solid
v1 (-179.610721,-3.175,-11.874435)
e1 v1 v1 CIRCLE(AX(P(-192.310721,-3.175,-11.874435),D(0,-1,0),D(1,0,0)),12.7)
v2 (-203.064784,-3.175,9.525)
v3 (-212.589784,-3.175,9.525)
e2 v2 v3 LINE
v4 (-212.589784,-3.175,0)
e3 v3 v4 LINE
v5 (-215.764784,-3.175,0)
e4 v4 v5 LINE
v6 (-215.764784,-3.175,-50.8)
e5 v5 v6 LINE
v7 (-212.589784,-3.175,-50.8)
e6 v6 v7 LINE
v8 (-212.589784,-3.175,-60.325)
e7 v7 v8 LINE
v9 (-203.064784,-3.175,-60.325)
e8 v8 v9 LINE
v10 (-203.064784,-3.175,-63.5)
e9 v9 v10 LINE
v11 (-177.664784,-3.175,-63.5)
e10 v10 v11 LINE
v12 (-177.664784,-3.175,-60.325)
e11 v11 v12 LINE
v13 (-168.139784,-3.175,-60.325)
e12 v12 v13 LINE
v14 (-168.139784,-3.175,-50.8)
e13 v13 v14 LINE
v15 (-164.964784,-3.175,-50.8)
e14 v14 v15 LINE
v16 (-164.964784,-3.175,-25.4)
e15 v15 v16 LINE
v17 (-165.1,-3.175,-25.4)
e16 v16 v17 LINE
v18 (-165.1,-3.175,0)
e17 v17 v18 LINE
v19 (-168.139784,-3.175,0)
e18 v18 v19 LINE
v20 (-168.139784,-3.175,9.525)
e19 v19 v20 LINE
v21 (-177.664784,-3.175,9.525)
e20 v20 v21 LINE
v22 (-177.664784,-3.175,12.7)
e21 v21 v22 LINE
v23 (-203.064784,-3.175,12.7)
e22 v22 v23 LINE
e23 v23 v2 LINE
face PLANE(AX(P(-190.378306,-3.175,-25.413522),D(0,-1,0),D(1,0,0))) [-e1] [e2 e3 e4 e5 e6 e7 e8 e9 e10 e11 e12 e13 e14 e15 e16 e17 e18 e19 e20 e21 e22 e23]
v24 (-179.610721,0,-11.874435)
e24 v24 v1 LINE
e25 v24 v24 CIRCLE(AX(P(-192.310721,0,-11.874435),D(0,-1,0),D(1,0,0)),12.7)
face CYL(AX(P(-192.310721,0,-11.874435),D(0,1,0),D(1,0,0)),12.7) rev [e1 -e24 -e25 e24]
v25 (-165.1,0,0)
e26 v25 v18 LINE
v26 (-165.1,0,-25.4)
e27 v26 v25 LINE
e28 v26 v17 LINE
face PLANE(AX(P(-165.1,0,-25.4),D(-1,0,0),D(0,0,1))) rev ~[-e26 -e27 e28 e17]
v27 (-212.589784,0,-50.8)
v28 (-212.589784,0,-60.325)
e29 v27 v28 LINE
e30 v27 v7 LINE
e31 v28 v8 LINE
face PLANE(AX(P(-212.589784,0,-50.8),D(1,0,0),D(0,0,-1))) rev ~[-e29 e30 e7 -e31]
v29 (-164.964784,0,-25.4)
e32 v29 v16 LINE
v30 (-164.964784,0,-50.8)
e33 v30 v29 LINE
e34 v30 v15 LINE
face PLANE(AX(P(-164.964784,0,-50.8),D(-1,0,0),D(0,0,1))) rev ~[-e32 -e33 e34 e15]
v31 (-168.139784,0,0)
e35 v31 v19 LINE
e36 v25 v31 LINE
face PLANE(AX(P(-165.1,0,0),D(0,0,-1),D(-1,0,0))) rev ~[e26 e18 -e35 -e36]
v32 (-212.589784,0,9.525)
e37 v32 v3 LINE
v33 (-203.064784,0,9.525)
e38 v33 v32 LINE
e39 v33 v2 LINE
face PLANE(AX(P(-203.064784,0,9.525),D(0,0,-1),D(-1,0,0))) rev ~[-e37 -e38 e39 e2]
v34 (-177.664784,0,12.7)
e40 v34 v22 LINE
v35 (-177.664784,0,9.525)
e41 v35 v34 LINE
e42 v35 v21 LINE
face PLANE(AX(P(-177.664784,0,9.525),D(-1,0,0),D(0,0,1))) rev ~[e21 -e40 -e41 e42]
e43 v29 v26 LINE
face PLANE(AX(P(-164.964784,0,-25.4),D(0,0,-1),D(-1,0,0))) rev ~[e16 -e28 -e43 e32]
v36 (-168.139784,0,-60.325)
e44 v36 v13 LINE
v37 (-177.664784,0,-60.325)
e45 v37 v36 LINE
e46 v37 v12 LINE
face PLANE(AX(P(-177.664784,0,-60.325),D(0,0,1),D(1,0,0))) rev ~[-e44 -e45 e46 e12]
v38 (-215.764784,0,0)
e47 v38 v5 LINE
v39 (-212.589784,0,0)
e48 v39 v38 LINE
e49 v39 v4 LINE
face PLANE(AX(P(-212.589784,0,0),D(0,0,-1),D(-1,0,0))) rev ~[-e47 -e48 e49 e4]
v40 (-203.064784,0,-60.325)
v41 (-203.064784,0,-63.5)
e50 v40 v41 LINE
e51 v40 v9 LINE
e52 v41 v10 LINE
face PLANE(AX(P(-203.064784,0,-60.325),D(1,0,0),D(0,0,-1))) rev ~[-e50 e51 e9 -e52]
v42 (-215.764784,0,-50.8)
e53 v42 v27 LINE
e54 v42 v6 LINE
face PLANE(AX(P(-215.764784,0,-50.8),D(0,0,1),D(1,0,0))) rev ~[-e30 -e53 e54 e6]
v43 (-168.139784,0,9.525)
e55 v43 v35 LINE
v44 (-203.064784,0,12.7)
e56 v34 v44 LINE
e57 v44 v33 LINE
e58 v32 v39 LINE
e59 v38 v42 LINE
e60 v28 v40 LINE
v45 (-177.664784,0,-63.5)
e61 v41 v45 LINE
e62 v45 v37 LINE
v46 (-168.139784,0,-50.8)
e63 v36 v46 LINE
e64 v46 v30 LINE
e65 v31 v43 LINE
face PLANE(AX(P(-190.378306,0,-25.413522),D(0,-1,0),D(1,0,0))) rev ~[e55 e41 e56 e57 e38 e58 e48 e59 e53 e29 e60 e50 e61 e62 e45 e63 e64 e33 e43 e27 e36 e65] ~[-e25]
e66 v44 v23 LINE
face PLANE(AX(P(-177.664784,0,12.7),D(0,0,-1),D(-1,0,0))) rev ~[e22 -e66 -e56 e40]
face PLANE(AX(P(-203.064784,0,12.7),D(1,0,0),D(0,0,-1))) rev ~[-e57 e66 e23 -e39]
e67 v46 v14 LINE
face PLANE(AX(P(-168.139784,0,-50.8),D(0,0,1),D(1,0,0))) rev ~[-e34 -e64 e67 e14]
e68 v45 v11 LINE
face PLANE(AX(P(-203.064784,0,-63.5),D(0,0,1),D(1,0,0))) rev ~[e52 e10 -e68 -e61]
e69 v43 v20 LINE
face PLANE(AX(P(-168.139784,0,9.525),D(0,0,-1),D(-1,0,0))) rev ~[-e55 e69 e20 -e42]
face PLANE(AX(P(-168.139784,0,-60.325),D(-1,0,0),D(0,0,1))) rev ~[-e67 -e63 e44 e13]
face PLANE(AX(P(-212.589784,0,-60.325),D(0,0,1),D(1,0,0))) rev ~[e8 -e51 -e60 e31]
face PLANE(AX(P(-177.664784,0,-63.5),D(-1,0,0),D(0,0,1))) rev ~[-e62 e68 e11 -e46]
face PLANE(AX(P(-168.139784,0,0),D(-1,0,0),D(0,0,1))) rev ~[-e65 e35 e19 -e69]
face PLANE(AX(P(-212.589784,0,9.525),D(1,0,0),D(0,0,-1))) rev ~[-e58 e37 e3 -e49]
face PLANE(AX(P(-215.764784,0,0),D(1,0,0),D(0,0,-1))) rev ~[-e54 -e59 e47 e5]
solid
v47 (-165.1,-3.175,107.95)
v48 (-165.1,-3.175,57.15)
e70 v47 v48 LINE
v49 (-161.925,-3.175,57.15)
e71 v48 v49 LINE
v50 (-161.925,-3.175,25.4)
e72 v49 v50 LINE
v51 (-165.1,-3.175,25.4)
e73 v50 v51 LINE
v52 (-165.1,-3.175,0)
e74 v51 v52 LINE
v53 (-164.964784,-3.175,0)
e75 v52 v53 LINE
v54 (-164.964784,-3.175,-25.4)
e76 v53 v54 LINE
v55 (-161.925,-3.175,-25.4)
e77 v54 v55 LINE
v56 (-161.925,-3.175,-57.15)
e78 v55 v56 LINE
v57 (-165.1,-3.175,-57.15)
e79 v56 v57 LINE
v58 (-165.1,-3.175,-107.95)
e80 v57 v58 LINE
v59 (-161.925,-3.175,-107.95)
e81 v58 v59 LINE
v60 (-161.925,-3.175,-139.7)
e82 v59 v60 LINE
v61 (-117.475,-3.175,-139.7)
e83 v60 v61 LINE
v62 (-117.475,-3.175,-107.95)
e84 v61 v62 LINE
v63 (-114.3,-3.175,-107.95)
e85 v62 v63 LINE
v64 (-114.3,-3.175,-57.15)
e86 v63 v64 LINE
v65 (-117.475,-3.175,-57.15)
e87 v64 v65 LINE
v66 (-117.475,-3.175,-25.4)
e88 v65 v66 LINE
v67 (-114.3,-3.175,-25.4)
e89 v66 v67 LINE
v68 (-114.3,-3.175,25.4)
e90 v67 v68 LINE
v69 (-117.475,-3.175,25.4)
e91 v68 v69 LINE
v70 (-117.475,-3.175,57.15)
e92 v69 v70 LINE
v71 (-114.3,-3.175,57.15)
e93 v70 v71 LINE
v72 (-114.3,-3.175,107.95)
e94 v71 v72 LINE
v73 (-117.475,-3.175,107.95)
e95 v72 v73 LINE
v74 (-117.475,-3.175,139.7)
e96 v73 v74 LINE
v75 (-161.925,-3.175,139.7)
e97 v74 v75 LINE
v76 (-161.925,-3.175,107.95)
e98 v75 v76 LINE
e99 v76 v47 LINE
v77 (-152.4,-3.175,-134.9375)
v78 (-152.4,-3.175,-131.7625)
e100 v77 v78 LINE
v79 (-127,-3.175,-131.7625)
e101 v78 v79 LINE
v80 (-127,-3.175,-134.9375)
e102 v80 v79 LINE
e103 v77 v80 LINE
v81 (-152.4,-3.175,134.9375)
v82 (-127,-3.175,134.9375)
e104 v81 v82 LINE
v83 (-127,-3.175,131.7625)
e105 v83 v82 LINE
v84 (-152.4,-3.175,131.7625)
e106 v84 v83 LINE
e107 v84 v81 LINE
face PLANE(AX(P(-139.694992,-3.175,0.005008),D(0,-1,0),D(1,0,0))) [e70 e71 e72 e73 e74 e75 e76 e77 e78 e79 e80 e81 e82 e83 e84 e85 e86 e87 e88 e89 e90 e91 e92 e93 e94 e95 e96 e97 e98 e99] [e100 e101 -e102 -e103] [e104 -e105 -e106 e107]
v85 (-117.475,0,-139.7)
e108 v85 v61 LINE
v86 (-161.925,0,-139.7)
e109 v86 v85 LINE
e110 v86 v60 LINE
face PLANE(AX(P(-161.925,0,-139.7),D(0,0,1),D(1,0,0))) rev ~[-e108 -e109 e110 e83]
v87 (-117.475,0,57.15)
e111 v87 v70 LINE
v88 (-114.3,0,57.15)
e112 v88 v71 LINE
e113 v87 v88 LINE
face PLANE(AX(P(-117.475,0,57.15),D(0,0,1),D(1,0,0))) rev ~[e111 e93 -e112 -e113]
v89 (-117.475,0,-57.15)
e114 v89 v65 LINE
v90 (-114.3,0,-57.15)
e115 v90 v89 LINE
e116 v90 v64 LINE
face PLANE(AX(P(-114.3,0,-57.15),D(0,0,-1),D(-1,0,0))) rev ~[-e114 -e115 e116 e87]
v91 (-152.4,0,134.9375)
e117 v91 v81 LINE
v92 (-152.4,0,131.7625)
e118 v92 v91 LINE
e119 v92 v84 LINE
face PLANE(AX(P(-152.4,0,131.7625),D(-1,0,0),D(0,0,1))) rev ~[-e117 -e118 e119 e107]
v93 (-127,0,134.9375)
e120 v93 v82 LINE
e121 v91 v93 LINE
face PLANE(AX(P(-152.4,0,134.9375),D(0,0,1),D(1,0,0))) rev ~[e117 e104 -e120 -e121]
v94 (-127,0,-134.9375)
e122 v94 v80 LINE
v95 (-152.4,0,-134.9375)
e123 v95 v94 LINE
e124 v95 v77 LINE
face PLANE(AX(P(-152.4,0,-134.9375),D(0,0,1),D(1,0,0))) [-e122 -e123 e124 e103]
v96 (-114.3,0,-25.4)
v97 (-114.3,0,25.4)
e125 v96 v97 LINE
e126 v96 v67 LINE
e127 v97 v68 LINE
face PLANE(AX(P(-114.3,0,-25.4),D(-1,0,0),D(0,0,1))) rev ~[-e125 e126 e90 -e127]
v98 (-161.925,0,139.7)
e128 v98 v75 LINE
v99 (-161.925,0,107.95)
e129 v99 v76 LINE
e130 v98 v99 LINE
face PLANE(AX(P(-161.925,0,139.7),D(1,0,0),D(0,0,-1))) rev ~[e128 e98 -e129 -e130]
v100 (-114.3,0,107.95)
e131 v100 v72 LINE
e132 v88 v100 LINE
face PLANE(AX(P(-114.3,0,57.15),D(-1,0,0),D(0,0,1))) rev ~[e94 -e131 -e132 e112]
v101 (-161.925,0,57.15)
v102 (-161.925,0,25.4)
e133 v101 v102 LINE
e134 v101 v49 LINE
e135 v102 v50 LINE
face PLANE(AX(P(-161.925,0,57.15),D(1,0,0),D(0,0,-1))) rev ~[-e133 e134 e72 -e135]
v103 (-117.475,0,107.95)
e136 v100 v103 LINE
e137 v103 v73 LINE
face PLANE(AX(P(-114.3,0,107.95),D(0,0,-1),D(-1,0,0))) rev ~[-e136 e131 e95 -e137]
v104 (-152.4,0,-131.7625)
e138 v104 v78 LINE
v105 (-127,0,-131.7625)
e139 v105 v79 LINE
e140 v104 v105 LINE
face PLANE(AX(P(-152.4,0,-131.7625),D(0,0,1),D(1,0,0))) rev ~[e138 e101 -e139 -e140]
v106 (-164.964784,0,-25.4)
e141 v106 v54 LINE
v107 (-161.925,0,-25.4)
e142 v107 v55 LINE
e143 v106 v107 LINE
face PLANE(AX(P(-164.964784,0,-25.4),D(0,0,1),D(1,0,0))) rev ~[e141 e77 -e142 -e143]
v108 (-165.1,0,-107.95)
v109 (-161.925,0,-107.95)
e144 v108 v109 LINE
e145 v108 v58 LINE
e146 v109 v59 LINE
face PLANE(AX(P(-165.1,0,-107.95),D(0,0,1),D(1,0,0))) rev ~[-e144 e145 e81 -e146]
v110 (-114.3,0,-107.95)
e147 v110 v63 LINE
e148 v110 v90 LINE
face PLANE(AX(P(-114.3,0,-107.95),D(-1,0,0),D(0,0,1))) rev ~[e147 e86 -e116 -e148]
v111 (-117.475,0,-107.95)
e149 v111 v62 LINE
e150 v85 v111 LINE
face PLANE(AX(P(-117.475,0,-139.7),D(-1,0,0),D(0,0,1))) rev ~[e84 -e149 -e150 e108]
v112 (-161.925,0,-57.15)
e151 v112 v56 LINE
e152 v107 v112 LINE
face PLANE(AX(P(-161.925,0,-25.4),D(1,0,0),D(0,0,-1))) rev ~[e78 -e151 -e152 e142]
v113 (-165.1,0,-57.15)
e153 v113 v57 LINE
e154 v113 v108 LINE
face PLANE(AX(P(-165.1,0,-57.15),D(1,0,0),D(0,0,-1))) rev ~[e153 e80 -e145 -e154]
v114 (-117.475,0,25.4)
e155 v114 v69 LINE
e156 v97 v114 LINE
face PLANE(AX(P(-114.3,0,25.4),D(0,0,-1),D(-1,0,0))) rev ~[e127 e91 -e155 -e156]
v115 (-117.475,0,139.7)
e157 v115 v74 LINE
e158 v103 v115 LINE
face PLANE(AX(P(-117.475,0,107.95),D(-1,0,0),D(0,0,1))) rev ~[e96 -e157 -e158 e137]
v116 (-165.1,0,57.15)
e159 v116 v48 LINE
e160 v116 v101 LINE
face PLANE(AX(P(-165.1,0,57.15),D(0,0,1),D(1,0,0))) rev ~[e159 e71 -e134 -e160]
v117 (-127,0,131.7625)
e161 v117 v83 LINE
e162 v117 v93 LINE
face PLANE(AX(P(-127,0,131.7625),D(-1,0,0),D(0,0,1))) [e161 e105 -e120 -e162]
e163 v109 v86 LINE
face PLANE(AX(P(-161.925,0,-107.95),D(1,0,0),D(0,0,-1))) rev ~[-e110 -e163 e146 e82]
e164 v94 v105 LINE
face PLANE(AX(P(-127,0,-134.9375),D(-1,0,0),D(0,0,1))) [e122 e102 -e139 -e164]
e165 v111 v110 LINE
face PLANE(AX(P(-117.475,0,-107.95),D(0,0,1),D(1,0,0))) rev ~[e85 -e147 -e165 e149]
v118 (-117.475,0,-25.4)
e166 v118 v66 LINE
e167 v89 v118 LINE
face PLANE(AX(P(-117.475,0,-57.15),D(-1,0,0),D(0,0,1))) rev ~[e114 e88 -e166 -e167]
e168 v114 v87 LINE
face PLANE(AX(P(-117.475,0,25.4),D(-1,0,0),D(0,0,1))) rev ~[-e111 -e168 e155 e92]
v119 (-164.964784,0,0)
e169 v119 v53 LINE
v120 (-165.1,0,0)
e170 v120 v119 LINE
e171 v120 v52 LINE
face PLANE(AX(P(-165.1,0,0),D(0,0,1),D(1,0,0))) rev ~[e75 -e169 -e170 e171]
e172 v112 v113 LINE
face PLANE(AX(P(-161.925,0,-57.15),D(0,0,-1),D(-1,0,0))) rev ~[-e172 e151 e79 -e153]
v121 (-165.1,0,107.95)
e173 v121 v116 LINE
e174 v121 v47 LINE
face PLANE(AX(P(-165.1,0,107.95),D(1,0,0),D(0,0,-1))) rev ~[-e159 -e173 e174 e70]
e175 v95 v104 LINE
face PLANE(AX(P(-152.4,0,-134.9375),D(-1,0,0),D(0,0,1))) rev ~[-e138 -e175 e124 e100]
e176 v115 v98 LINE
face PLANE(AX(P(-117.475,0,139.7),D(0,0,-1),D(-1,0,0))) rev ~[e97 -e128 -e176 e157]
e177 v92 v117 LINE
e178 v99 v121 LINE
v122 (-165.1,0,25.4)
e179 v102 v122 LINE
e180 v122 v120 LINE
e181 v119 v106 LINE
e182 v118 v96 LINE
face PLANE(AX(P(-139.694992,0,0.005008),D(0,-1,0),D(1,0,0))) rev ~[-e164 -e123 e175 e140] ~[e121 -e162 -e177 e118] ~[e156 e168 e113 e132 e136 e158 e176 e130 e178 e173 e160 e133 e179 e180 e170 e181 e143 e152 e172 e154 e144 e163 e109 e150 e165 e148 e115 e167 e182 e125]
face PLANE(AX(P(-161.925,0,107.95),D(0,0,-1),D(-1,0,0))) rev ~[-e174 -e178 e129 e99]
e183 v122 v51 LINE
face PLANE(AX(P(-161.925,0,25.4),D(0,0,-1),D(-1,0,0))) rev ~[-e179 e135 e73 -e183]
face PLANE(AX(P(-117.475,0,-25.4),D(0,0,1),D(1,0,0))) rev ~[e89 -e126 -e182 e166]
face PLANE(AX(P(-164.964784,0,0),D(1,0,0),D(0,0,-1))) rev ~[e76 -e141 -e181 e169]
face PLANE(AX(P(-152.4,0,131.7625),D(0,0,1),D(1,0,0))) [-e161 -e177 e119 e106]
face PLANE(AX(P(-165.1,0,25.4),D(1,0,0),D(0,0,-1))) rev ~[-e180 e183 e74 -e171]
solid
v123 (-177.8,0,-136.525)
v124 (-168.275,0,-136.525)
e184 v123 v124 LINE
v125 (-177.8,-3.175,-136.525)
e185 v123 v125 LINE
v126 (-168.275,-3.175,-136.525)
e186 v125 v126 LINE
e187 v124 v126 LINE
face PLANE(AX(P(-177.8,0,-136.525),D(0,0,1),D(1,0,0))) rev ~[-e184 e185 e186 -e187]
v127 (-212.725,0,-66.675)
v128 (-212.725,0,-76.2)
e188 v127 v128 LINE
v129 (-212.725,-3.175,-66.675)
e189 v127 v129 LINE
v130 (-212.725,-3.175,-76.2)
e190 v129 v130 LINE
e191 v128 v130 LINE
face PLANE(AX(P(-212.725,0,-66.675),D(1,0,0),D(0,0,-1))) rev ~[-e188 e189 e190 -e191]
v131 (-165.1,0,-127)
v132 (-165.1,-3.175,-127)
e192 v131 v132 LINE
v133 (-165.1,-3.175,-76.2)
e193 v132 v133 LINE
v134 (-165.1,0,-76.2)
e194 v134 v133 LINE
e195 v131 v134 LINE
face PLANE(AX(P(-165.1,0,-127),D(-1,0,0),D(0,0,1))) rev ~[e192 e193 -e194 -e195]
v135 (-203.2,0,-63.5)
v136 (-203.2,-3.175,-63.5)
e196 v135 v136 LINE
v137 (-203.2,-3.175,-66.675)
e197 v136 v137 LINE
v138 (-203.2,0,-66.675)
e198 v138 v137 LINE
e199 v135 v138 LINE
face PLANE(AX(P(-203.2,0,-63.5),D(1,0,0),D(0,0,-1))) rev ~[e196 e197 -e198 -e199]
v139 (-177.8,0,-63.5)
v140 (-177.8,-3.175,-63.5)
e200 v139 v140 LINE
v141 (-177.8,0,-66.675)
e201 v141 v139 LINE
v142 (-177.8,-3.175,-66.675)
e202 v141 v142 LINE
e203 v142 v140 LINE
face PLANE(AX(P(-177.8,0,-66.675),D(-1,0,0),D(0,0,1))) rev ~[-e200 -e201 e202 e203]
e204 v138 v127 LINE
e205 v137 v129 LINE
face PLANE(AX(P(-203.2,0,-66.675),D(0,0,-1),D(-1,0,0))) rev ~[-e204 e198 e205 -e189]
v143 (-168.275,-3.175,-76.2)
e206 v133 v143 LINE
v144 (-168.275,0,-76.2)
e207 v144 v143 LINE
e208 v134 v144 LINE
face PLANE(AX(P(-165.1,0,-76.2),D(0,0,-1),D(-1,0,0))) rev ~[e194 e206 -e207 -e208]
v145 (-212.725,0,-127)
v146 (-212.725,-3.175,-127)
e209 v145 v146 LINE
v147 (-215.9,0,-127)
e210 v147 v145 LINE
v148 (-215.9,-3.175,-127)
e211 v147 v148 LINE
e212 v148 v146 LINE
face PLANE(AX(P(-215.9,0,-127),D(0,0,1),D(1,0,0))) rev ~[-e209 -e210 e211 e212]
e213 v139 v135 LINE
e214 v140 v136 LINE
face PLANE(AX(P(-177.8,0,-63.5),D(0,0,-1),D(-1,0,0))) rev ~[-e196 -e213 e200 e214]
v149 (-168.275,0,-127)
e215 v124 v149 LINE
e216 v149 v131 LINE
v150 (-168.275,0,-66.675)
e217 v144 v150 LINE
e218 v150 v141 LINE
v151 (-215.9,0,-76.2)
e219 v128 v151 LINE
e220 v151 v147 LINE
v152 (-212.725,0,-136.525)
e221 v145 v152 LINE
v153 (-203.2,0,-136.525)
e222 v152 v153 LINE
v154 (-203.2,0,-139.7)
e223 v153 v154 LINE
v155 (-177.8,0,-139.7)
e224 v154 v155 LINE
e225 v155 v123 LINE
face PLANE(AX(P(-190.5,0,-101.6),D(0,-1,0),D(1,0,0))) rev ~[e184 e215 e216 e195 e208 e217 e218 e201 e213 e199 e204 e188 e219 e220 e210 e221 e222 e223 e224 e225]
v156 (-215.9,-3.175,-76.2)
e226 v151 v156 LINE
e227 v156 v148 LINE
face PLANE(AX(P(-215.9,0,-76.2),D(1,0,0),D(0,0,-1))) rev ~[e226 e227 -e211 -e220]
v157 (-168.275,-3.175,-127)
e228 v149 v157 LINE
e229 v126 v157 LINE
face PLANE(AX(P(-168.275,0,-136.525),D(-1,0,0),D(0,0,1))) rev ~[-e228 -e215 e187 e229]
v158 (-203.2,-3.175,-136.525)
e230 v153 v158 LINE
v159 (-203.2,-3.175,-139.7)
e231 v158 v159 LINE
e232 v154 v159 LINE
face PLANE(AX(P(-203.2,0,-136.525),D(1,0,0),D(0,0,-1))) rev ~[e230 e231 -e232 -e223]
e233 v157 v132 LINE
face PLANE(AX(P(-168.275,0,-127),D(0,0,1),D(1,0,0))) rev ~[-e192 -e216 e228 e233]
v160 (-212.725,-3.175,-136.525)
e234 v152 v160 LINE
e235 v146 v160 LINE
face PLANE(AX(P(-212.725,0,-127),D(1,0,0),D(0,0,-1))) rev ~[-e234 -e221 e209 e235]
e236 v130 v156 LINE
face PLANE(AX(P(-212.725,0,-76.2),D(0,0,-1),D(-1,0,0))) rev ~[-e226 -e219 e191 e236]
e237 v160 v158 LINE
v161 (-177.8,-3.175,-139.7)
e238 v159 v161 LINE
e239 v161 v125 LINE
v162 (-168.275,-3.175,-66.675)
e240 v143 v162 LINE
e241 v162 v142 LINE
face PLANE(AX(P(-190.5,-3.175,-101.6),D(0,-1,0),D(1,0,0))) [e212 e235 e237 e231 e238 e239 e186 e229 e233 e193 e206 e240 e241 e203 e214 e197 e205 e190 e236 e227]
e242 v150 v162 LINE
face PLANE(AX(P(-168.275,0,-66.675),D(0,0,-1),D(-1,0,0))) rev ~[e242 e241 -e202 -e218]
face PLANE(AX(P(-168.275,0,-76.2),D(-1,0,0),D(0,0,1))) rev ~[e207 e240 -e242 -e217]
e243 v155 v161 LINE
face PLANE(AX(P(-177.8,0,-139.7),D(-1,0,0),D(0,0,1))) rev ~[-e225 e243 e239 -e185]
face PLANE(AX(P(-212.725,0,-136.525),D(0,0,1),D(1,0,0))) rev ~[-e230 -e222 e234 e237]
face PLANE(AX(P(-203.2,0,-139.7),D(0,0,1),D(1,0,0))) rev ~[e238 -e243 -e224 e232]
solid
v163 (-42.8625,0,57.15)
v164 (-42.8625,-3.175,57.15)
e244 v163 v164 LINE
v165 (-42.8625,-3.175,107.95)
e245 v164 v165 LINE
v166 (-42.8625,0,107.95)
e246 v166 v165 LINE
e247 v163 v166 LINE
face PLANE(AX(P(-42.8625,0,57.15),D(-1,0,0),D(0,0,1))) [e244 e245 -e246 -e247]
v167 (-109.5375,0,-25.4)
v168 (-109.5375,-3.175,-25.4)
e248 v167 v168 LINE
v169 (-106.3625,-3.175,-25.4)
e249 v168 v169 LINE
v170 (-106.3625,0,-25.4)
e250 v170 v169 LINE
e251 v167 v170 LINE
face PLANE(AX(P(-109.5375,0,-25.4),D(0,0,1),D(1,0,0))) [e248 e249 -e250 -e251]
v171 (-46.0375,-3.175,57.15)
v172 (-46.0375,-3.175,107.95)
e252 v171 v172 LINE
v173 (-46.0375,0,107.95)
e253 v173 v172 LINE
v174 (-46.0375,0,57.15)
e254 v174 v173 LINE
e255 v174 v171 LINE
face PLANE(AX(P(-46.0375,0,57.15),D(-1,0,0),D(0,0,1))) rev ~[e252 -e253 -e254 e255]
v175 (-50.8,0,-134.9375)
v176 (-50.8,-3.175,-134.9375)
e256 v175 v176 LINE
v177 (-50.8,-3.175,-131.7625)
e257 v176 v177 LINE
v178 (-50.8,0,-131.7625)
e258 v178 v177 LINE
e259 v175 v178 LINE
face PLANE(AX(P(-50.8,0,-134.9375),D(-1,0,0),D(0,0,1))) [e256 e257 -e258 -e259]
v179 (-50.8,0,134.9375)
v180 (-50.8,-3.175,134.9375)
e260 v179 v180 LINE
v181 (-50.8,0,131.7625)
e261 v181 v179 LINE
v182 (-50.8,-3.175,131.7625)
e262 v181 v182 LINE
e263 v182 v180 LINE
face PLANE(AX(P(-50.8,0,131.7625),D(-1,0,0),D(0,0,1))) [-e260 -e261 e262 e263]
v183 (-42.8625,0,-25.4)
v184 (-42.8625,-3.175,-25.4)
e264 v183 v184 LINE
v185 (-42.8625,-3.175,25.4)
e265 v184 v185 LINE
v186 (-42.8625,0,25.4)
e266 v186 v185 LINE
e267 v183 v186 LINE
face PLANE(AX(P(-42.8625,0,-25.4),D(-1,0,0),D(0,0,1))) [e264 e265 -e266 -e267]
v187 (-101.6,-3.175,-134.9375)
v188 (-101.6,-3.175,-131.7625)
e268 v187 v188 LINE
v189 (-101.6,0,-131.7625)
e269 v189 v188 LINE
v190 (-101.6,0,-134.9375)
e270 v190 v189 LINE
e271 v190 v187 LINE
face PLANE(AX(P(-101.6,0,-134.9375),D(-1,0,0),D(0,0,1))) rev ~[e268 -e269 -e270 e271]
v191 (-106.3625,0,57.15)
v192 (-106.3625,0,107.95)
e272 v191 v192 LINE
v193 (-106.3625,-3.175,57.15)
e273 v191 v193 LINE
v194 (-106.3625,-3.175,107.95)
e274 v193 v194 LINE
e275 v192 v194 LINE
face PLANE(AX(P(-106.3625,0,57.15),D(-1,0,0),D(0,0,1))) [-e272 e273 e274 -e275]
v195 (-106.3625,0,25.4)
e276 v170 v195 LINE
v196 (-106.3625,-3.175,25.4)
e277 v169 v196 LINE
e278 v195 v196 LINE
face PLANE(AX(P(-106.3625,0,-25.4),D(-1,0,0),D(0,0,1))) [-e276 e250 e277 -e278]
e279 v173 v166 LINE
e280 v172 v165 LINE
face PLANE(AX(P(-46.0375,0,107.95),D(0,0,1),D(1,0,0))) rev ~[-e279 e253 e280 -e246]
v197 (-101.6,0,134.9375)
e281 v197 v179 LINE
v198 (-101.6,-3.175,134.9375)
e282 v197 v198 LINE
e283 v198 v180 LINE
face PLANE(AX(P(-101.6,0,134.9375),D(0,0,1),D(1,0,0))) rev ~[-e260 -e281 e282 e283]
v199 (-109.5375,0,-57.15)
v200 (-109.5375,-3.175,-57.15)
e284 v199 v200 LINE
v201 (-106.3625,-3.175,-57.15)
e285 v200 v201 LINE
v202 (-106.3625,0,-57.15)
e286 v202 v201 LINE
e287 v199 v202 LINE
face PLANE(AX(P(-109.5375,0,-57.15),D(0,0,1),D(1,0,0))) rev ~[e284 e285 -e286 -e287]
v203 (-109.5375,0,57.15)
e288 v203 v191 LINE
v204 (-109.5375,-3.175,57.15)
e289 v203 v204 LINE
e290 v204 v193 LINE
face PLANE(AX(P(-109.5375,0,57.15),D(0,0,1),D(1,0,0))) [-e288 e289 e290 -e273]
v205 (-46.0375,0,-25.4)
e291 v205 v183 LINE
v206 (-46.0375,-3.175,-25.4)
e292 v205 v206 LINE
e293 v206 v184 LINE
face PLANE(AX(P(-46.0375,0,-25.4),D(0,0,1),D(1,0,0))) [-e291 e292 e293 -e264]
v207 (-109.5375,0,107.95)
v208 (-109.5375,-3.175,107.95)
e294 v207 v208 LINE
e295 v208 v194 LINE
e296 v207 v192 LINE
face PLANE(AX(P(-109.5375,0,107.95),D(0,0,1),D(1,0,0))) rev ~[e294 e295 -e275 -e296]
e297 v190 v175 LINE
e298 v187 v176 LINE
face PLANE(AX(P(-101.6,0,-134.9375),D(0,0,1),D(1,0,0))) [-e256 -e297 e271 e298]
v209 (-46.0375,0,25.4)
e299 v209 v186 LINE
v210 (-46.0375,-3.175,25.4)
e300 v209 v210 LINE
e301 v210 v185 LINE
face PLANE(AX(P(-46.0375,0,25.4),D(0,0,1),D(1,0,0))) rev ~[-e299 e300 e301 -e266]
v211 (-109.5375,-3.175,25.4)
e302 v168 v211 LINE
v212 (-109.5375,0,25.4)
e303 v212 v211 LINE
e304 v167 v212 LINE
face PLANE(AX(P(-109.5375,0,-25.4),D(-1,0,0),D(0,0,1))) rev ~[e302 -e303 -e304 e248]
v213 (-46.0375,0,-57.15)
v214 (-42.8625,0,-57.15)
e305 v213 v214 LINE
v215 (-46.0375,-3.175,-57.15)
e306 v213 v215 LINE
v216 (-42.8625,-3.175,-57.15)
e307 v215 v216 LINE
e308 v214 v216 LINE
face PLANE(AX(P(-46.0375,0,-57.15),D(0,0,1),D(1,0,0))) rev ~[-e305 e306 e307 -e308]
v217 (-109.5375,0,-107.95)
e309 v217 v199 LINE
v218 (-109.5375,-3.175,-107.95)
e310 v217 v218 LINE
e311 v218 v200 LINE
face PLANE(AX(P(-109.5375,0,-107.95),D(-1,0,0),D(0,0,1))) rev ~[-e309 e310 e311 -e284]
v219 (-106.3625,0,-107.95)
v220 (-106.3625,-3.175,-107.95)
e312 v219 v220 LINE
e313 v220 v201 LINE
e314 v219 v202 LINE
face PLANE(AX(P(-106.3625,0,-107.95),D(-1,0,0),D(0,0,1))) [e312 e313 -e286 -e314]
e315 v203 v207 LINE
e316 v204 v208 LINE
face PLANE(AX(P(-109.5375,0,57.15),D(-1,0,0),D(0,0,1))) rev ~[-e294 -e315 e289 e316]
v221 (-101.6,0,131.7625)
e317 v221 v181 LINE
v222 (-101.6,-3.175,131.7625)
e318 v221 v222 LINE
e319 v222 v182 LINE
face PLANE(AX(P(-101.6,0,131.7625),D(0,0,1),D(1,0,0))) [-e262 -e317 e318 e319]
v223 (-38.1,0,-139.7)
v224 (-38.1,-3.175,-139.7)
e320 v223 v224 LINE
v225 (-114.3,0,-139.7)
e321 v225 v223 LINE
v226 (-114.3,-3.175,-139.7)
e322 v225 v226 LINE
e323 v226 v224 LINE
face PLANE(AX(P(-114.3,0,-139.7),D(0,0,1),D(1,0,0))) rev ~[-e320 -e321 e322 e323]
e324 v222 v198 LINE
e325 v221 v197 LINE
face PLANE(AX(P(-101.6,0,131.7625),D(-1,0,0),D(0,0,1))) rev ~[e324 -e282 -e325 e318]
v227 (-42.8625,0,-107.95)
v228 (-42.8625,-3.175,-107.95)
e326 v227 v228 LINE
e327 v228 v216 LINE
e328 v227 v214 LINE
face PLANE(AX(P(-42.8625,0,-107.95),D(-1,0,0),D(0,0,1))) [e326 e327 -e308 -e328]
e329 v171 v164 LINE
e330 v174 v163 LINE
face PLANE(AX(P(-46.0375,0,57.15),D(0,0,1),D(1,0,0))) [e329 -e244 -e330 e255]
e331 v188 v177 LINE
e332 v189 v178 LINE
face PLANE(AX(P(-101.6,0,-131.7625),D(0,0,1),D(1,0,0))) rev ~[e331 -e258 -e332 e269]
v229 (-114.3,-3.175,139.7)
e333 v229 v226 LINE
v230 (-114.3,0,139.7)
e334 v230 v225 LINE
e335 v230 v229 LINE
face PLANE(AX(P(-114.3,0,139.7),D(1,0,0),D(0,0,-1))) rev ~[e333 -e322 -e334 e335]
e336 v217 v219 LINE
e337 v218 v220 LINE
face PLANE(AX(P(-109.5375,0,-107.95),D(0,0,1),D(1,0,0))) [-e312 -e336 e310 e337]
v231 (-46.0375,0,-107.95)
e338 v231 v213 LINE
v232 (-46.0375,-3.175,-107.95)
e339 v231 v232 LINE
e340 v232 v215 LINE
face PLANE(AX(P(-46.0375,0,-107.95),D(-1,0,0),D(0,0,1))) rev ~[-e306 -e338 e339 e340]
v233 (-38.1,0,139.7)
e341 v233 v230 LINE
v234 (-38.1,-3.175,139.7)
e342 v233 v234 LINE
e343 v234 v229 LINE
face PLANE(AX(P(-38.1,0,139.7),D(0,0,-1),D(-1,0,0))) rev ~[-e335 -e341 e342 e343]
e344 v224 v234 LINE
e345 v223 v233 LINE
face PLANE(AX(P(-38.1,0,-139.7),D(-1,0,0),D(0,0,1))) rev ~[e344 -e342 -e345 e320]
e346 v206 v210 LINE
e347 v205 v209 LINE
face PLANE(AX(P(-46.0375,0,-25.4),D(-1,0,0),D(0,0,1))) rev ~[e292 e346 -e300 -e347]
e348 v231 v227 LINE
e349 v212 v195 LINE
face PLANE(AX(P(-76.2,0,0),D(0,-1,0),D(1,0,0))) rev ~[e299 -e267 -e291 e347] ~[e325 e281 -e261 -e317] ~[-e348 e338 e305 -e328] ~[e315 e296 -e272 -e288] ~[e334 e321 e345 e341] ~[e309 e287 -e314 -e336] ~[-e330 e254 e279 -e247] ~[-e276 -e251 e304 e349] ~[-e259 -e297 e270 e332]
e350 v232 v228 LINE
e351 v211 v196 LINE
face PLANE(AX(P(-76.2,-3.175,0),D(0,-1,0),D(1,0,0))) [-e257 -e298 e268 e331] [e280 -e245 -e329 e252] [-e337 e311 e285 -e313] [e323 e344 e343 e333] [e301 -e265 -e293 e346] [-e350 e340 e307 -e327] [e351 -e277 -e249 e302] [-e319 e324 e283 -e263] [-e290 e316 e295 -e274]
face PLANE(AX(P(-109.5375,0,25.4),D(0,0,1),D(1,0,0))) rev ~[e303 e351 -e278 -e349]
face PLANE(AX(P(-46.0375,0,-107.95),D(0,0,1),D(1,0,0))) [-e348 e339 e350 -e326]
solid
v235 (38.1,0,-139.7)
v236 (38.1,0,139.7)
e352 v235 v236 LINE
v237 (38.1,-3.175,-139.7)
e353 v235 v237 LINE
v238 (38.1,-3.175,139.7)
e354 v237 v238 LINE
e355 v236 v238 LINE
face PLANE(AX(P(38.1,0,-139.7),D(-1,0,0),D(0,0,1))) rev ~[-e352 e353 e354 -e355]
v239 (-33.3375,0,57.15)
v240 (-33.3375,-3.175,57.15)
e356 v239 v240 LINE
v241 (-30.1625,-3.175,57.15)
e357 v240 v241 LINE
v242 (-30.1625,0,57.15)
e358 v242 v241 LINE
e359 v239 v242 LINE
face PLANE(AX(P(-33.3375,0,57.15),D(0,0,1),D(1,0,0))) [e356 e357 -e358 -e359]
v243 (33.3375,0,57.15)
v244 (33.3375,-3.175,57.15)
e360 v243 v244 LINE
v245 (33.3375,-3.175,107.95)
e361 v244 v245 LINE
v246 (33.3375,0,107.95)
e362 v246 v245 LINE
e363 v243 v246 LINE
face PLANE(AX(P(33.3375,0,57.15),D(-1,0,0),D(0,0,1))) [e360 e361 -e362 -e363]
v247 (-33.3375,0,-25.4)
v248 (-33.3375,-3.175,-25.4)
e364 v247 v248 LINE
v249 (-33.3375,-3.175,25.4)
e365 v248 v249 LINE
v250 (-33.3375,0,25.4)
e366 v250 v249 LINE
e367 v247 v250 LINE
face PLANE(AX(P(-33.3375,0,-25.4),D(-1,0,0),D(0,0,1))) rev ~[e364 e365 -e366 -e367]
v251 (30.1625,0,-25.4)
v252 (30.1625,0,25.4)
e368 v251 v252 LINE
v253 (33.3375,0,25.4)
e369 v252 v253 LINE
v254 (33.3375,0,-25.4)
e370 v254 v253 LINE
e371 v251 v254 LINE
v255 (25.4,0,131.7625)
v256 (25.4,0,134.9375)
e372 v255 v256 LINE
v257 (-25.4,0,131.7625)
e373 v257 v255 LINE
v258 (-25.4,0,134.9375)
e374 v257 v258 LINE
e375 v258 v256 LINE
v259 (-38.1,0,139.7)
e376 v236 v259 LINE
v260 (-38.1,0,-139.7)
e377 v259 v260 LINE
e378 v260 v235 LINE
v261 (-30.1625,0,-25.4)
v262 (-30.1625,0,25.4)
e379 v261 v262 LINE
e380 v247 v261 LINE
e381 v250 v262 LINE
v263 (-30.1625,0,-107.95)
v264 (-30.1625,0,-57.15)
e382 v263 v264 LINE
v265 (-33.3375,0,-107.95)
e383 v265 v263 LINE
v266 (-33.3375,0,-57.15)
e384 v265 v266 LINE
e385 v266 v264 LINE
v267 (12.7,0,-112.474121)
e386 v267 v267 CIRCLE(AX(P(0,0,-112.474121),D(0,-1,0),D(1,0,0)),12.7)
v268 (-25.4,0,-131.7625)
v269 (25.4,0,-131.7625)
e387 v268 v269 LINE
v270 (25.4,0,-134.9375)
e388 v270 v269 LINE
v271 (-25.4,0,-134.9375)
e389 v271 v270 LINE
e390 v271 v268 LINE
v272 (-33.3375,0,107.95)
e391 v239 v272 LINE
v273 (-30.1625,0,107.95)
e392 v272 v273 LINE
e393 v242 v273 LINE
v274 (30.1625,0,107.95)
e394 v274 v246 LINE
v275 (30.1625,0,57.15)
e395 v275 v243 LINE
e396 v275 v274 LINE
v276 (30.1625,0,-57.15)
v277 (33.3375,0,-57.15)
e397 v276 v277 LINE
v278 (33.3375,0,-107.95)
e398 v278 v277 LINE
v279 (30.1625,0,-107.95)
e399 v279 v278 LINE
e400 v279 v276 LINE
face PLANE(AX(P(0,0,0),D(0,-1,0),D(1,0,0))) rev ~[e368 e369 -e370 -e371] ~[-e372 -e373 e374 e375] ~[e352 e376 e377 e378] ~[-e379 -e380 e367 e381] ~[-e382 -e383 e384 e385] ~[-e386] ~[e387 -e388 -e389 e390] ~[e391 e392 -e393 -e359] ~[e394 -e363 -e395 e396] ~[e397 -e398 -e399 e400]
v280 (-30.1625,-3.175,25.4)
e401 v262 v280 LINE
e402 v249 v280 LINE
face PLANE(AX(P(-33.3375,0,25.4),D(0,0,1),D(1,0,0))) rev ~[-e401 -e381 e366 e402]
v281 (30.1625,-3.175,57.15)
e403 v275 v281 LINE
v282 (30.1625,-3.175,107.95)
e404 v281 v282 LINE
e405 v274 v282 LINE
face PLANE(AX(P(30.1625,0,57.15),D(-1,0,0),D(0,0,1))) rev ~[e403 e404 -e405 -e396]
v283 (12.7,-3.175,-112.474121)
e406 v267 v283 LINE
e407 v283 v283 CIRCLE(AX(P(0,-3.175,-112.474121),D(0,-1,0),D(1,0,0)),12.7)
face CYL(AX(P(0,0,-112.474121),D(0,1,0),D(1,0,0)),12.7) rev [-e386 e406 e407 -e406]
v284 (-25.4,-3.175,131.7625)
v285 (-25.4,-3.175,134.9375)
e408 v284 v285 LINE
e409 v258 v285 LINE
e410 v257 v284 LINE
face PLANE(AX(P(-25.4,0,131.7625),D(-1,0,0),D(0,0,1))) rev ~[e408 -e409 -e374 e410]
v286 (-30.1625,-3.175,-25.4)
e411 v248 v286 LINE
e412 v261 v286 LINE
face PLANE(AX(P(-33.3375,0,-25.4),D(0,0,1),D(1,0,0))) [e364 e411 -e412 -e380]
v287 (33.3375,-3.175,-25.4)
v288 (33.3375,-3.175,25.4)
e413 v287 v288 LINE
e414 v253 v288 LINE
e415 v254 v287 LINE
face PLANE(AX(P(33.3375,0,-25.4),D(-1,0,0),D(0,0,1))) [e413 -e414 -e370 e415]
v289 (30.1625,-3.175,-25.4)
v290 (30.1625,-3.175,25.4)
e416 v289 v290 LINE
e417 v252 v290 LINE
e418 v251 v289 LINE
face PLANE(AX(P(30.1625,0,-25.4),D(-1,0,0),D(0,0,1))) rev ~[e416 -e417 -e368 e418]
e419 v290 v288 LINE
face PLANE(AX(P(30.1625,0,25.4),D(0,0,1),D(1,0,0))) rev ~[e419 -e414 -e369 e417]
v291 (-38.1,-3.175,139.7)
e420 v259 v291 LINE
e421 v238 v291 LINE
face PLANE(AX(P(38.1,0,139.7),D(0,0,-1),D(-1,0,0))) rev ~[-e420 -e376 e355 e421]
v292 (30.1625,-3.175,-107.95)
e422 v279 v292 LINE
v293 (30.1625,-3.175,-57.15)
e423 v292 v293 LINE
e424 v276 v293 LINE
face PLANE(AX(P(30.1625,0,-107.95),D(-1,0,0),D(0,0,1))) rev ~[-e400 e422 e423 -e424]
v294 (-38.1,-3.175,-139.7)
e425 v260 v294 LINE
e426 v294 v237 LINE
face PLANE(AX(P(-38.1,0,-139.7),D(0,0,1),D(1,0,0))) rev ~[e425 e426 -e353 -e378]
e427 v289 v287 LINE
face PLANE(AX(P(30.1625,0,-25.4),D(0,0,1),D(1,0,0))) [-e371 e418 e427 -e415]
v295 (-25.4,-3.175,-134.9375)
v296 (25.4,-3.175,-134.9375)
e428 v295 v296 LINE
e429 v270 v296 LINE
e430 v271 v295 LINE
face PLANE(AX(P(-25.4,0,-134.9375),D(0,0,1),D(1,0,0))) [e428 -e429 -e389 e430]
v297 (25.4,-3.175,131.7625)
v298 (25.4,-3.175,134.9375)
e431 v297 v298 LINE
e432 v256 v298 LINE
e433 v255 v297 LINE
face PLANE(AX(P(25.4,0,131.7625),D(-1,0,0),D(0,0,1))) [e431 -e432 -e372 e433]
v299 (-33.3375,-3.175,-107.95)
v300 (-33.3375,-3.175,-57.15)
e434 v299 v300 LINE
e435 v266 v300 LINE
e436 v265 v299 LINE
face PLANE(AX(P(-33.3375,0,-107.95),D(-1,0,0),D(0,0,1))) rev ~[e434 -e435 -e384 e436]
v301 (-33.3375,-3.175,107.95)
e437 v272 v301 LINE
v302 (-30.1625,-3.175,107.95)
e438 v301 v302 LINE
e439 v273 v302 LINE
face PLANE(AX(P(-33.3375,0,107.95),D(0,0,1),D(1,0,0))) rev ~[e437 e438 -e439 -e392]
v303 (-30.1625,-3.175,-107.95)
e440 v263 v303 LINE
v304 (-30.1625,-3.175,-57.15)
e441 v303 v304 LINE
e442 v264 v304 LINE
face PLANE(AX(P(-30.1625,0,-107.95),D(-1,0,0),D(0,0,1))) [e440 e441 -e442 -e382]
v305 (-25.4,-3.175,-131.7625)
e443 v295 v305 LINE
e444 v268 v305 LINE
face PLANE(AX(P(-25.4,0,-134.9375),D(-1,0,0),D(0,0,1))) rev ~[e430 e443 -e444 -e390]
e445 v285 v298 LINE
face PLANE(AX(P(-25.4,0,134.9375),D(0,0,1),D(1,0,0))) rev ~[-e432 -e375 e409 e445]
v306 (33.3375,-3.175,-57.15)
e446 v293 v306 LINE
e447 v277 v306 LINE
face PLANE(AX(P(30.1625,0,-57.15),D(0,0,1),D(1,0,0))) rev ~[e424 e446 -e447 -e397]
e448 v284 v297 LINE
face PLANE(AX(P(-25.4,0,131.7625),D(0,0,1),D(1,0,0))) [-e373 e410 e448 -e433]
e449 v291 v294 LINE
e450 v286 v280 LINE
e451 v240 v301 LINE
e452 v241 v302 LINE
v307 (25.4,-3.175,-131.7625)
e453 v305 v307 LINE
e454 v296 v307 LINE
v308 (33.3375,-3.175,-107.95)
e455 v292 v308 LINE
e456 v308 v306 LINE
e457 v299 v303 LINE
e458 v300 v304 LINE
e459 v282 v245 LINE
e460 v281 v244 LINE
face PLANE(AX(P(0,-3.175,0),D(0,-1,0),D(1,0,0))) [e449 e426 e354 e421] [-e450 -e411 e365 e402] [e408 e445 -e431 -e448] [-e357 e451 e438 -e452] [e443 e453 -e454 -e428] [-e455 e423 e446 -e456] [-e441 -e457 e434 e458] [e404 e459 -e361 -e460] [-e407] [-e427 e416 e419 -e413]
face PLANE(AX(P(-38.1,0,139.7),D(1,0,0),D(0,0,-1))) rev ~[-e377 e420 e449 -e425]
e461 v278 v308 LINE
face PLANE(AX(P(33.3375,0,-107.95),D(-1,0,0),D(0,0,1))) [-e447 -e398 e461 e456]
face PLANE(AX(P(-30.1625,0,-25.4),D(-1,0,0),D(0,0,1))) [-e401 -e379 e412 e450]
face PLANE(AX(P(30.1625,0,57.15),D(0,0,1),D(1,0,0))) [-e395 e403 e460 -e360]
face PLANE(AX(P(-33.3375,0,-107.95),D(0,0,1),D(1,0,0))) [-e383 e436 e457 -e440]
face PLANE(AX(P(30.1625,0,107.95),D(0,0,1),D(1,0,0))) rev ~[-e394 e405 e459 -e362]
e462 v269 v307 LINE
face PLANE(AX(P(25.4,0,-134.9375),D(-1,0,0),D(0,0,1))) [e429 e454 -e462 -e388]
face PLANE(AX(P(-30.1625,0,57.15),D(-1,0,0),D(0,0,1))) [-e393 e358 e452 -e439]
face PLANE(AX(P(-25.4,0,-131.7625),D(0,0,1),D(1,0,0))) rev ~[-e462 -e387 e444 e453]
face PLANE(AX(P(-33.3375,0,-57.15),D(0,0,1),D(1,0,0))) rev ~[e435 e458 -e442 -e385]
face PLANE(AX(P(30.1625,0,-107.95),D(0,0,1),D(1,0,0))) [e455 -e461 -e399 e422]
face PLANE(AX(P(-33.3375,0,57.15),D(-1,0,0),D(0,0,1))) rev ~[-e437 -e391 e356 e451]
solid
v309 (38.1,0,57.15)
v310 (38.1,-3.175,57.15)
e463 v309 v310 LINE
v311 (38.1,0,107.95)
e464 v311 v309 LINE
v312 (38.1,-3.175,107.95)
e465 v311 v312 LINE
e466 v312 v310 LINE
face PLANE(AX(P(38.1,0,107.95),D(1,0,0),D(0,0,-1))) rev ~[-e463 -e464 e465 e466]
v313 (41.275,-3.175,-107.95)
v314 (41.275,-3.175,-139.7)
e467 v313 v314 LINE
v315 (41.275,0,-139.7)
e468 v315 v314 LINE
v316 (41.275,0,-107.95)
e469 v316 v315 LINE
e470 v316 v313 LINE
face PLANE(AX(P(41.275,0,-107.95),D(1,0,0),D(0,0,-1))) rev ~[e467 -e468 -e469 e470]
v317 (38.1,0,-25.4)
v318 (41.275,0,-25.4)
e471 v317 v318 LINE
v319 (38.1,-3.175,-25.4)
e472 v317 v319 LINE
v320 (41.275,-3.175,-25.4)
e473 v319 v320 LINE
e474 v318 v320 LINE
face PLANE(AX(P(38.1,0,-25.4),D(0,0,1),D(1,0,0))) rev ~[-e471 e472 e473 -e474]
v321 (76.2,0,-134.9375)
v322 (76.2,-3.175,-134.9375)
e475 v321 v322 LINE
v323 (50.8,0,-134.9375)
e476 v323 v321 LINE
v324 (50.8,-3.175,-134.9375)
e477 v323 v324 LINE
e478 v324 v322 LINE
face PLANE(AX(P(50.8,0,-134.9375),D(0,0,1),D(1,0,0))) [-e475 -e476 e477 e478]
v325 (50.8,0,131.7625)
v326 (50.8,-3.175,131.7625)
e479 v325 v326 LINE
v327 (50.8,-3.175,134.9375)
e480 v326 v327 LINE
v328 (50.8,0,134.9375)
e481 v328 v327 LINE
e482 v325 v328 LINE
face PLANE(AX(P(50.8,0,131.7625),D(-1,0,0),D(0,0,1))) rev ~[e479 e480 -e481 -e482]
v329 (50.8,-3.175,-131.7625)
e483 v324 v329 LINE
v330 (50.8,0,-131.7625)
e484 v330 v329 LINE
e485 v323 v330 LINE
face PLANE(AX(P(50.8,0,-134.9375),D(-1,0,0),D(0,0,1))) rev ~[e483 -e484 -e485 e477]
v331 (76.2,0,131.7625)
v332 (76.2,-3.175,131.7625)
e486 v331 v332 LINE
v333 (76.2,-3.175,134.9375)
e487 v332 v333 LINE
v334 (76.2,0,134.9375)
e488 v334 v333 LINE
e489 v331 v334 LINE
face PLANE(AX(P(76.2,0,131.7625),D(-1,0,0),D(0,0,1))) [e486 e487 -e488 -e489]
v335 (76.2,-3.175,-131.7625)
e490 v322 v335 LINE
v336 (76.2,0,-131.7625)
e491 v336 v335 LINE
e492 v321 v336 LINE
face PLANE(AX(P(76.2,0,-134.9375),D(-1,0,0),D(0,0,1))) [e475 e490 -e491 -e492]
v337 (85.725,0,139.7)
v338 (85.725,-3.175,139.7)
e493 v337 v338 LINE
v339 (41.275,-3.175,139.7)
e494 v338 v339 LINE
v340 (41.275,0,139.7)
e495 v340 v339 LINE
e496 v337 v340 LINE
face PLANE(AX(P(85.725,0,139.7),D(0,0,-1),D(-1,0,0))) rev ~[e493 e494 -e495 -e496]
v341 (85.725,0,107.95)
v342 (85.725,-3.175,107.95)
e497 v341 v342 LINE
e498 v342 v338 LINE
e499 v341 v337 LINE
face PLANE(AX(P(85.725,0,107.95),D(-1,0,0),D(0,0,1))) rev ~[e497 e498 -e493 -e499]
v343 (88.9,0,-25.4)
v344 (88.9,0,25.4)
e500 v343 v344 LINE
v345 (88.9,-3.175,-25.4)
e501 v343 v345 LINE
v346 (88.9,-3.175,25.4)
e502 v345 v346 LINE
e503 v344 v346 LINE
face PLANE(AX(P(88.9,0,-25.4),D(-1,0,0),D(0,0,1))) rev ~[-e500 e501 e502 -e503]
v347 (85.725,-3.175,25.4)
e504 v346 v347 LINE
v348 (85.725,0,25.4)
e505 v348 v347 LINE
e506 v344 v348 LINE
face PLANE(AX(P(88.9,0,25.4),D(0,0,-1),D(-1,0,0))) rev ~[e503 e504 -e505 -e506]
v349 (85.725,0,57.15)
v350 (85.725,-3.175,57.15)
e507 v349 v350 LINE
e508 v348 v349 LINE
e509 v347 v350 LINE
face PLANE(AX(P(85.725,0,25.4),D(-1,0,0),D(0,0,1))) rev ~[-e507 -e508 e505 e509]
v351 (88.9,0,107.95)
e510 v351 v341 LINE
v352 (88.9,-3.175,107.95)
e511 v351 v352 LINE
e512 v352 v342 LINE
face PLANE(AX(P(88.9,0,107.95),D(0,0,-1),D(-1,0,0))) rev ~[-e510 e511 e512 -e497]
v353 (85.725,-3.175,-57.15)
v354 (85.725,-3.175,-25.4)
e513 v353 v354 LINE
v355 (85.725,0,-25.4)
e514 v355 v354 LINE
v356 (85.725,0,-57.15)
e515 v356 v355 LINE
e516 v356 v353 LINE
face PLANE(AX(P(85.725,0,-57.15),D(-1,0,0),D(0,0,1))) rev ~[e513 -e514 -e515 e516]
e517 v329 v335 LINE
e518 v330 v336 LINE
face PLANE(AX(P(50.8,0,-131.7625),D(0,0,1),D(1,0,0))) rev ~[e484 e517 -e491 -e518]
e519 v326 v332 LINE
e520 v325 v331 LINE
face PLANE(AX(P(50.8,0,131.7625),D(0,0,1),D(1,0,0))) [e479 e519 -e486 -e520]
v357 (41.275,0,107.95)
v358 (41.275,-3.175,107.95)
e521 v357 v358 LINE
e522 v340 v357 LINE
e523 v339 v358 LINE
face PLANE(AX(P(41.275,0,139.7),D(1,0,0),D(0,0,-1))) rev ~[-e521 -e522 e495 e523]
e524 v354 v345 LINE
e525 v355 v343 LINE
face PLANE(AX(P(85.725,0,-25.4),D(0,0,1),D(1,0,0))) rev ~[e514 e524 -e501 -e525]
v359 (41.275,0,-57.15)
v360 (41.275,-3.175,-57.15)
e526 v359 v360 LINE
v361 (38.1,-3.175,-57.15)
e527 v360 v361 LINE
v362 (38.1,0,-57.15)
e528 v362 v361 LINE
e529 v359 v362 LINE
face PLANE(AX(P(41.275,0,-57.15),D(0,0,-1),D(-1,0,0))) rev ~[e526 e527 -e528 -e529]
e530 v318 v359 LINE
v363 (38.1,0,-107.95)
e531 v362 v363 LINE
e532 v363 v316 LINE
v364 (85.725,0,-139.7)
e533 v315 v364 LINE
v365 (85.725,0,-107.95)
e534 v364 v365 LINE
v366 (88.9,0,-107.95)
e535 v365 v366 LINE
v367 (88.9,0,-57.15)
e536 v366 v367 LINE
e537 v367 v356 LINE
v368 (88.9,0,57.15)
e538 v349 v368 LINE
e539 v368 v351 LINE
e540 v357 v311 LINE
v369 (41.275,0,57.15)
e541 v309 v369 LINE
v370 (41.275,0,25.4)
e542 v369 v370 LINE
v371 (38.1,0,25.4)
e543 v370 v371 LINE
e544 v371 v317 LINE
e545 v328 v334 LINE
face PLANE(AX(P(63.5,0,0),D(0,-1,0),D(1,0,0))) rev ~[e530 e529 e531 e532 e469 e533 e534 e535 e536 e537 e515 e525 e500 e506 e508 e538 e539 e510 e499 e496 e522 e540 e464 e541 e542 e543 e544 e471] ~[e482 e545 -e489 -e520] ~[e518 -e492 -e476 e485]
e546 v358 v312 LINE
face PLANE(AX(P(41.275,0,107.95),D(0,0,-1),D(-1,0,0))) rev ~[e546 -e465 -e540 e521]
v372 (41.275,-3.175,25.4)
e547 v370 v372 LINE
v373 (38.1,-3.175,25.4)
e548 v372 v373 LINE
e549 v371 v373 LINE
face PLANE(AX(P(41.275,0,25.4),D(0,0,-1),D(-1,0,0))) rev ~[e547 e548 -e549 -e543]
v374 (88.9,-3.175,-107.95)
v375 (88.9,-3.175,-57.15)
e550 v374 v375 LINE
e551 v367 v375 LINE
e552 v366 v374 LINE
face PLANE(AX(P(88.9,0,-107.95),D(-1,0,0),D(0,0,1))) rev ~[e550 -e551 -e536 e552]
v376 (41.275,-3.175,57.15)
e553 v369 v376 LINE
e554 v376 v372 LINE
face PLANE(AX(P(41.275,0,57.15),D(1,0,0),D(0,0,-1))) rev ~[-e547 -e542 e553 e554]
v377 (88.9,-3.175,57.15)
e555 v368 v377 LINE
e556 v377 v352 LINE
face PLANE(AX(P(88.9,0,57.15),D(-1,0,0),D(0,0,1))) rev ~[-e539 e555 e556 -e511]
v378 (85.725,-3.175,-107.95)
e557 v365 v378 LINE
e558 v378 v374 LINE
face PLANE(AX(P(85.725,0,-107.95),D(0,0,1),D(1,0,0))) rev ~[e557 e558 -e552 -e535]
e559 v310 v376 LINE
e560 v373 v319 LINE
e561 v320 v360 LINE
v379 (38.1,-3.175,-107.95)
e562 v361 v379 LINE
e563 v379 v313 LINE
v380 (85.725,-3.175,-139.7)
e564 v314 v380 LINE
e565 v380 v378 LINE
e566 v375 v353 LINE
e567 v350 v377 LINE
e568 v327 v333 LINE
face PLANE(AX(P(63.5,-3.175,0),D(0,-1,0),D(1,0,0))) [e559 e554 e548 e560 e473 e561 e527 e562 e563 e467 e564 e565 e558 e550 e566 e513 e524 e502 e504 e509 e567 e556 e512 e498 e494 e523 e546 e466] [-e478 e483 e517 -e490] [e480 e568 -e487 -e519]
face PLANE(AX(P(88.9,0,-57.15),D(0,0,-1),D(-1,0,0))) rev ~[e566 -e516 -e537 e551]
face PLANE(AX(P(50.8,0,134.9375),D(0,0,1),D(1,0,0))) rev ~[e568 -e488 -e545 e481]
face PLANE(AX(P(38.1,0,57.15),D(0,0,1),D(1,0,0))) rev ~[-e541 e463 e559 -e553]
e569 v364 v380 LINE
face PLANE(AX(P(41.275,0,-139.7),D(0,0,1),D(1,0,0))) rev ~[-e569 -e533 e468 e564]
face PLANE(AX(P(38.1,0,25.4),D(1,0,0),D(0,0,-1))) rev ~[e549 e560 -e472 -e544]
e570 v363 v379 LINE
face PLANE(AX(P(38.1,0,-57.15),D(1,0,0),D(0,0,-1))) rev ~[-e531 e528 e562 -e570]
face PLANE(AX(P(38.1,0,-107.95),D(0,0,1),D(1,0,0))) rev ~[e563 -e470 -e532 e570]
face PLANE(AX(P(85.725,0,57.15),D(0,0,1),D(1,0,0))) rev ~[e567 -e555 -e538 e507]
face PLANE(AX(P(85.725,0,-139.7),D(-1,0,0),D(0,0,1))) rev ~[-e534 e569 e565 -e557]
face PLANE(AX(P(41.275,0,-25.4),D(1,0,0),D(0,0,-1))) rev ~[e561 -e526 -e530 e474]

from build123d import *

# Parameters (mm, degrees)
F0_W     = 50.8
F0_H     = 3.175
F0_W_2   = 3.175
F0_H_2   = 50.8
F1_DEPTH = 3.175
F0_R     = 12.7
F2_DEPTH = 3.175
F0_W_3   = 25.4
F3_DEPTH = 3.175
F4_DEPTH = 3.175
F5_DEPTH = 3.175
F6_DEPTH = 3.175


with BuildPart() as f1:
    # F0 (on Front) → F1 (new body)
    with BuildSketch(Plane.XZ):
        Polygon((-38.1, -139.7), (-38.1, 139.7), (-114.3, 139.7), (-114.3, 107.95), (-114.3, 57.15), (-114.3, 25.4), (-114.3, -25.4), (-114.3, -57.15), (-114.3, -107.95), (-114.3, -139.7), align=None)
        with Locations((-76.2, -133.35)):
            Rectangle(F0_W, F0_H, mode=Mode.SUBTRACT)
        with Locations((-107.95, -82.55)):
            Rectangle(F0_W_2, F0_H_2, mode=Mode.SUBTRACT)
        with Locations((-44.45, -82.55)):
            Rectangle(F0_W_2, F0_H_2, mode=Mode.SUBTRACT)
        with Locations((-107.95, 0)):
            Rectangle(F0_W_2, F0_H_2, mode=Mode.SUBTRACT)
        with Locations((-107.95, 82.55)):
            Rectangle(F0_W_2, F0_H_2, mode=Mode.SUBTRACT)
        with Locations((-76.2, 133.35)):
            Rectangle(F0_W, F0_H, mode=Mode.SUBTRACT)
        with Locations((-44.45, 0)):
            Rectangle(F0_W_2, F0_H_2, mode=Mode.SUBTRACT)
        with Locations((-44.45, 82.55)):
            Rectangle(F0_W_2, F0_H_2, mode=Mode.SUBTRACT)
    extrude(amount=F1_DEPTH)


with BuildPart() as f2:
    # F0 (on Front) → F2 (new body)
    with BuildSketch(Plane.XZ):
        Polygon((38.1, 139.7), (-38.1, 139.7), (-38.1, -139.7), (38.1, -139.7), (38.1, -107.95), (38.1, -57.15), (38.1, -25.4), (38.1, 25.4), (38.1, 57.15), (38.1, 107.95), align=None)
        with Locations((0, -133.35)):
            Rectangle(F0_W, F0_H, mode=Mode.SUBTRACT)
        with Locations((0, -112.474121)):
            Circle(F0_R, mode=Mode.SUBTRACT)
        with Locations((-31.75, -82.55)):
            Rectangle(F0_W_2, F0_H_2, mode=Mode.SUBTRACT)
        with Locations((31.75, -82.55)):
            Rectangle(F0_W_2, F0_H_2, mode=Mode.SUBTRACT)
        with Locations((-31.75, 0)):
            Rectangle(F0_W_2, F0_H_2, mode=Mode.SUBTRACT)
        with Locations((31.75, 0)):
            Rectangle(F0_W_2, F0_H_2, mode=Mode.SUBTRACT)
        with Locations((-31.75, 82.55)):
            Rectangle(F0_W_2, F0_H_2, mode=Mode.SUBTRACT)
        with Locations((0, 133.35)):
            Rectangle(F0_W, F0_H, mode=Mode.SUBTRACT)
        with Locations((31.75, 82.55)):
            Rectangle(F0_W_2, F0_H_2, mode=Mode.SUBTRACT)
    extrude(amount=F2_DEPTH)


with BuildPart() as f3:
    # F0 (on Front) → F3 (new body)
    with BuildSketch(Plane.XZ):
        Polygon((41.275, 107.95), (38.1, 107.95), (38.1, 57.15), (41.275, 57.15), (41.275, 25.4), (38.1, 25.4), (38.1, -25.4), (41.275, -25.4), (41.275, -57.15), (38.1, -57.15), (38.1, -107.95), (41.275, -107.95), (41.275, -134.9375), (41.275, -139.7), (85.725, -139.7), (85.725, -134.9375), (85.725, -107.95), (88.9, -107.95), (88.9, -57.15), (85.725, -57.15), (85.725, -25.4), (88.9, -25.4), (88.9, 25.4), (85.725, 25.4), (85.725, 57.15), (88.9, 57.15), (88.9, 107.95), (85.725, 107.95), (85.725, 134.9375), (85.725, 139.7), (41.275, 139.7), (41.275, 134.9375), align=None)
        with Locations((63.5, -133.35)):
            Rectangle(F0_W_3, F0_H, mode=Mode.SUBTRACT)
        with Locations((63.5, 133.35)):
            Rectangle(F0_W_3, F0_H, mode=Mode.SUBTRACT)
    extrude(amount=F3_DEPTH)


with BuildPart() as f4:
    # F0 (on Front) → F4 (new body)
    with BuildSketch(Plane.XZ):
        Polygon((-114.3, 57.15), (-114.3, 107.95), (-117.475, 107.95), (-117.475, 134.9375), (-117.475, 139.7), (-161.925, 139.7), (-161.925, 134.9375), (-161.925, 107.95), (-165.1, 107.95), (-165.1, 57.15), (-161.925, 57.15), (-161.925, 25.4), (-165.1, 25.4), (-165.1, 0), (-164.964784, 0), (-164.964784, -25.4), (-161.925, -25.4), (-161.925, -57.15), (-165.1, -57.15), (-165.1, -58.7375), (-165.1, -63.5), (-165.1, -76.2), (-165.1, -107.95), (-161.925, -107.95), (-161.925, -134.9375), (-161.925, -139.7), (-117.475, -139.7), (-117.475, -134.9375), (-117.475, -107.95), (-114.3, -107.95), (-114.3, -57.15), (-117.475, -57.15), (-117.475, -25.4), (-114.3, -25.4), (-114.3, 25.4), (-117.475, 25.4), (-117.475, 57.15), align=None)
        with Locations((-139.7, -133.35)):
            Rectangle(F0_W_3, F0_H, mode=Mode.SUBTRACT)
        with Locations((-139.7, 133.35)):
            Rectangle(F0_W_3, F0_H, mode=Mode.SUBTRACT)
    extrude(amount=F4_DEPTH)


with BuildPart() as f5:
    # F0 (on Front) → F5 (new body)
    with BuildSketch(Plane.XZ):
        Polygon((-165.1, -25.4), (-165.1, 0), (-168.139784, 0), (-168.139784, 9.525), (-177.664784, 9.525), (-177.664784, 12.7), (-203.064784, 12.7), (-203.064784, 9.525), (-212.589784, 9.525), (-212.589784, 0), (-215.764784, 0), (-215.764784, -50.8), (-212.589784, -50.8), (-212.589784, -60.325), (-203.064784, -60.325), (-203.064784, -63.5), (-177.8, -63.5), (-177.664784, -63.5), (-177.664784, -60.325), (-168.139784, -60.325), (-168.139784, -50.8), (-164.964784, -50.8), (-164.964784, -25.4), align=None)
        with Locations((-192.310721, -11.874435)):
            Circle(F0_R, mode=Mode.SUBTRACT)
    extrude(amount=F5_DEPTH)


with BuildPart() as f6:
    # F0 (on Front) → F6 (new body)
    with BuildSketch(Plane.XZ):
        Polygon((-165.1, -127), (-165.1, -107.95), (-165.1, -76.2), (-168.275, -76.2), (-168.275, -66.675), (-177.8, -66.675), (-177.8, -63.5), (-203.064784, -63.5), (-203.2, -63.5), (-203.2, -66.675), (-212.725, -66.675), (-212.725, -76.2), (-215.9, -76.2), (-215.9, -127), (-212.725, -127), (-212.725, -136.525), (-203.2, -136.525), (-203.2, -139.7), (-177.8, -139.7), (-177.8, -136.525), (-168.275, -136.525), (-168.275, -127), align=None)
    extrude(amount=F6_DEPTH)


solid = Compound([f1.part, f2.part, f3.part, f4.part, f5.part, f6.part])
